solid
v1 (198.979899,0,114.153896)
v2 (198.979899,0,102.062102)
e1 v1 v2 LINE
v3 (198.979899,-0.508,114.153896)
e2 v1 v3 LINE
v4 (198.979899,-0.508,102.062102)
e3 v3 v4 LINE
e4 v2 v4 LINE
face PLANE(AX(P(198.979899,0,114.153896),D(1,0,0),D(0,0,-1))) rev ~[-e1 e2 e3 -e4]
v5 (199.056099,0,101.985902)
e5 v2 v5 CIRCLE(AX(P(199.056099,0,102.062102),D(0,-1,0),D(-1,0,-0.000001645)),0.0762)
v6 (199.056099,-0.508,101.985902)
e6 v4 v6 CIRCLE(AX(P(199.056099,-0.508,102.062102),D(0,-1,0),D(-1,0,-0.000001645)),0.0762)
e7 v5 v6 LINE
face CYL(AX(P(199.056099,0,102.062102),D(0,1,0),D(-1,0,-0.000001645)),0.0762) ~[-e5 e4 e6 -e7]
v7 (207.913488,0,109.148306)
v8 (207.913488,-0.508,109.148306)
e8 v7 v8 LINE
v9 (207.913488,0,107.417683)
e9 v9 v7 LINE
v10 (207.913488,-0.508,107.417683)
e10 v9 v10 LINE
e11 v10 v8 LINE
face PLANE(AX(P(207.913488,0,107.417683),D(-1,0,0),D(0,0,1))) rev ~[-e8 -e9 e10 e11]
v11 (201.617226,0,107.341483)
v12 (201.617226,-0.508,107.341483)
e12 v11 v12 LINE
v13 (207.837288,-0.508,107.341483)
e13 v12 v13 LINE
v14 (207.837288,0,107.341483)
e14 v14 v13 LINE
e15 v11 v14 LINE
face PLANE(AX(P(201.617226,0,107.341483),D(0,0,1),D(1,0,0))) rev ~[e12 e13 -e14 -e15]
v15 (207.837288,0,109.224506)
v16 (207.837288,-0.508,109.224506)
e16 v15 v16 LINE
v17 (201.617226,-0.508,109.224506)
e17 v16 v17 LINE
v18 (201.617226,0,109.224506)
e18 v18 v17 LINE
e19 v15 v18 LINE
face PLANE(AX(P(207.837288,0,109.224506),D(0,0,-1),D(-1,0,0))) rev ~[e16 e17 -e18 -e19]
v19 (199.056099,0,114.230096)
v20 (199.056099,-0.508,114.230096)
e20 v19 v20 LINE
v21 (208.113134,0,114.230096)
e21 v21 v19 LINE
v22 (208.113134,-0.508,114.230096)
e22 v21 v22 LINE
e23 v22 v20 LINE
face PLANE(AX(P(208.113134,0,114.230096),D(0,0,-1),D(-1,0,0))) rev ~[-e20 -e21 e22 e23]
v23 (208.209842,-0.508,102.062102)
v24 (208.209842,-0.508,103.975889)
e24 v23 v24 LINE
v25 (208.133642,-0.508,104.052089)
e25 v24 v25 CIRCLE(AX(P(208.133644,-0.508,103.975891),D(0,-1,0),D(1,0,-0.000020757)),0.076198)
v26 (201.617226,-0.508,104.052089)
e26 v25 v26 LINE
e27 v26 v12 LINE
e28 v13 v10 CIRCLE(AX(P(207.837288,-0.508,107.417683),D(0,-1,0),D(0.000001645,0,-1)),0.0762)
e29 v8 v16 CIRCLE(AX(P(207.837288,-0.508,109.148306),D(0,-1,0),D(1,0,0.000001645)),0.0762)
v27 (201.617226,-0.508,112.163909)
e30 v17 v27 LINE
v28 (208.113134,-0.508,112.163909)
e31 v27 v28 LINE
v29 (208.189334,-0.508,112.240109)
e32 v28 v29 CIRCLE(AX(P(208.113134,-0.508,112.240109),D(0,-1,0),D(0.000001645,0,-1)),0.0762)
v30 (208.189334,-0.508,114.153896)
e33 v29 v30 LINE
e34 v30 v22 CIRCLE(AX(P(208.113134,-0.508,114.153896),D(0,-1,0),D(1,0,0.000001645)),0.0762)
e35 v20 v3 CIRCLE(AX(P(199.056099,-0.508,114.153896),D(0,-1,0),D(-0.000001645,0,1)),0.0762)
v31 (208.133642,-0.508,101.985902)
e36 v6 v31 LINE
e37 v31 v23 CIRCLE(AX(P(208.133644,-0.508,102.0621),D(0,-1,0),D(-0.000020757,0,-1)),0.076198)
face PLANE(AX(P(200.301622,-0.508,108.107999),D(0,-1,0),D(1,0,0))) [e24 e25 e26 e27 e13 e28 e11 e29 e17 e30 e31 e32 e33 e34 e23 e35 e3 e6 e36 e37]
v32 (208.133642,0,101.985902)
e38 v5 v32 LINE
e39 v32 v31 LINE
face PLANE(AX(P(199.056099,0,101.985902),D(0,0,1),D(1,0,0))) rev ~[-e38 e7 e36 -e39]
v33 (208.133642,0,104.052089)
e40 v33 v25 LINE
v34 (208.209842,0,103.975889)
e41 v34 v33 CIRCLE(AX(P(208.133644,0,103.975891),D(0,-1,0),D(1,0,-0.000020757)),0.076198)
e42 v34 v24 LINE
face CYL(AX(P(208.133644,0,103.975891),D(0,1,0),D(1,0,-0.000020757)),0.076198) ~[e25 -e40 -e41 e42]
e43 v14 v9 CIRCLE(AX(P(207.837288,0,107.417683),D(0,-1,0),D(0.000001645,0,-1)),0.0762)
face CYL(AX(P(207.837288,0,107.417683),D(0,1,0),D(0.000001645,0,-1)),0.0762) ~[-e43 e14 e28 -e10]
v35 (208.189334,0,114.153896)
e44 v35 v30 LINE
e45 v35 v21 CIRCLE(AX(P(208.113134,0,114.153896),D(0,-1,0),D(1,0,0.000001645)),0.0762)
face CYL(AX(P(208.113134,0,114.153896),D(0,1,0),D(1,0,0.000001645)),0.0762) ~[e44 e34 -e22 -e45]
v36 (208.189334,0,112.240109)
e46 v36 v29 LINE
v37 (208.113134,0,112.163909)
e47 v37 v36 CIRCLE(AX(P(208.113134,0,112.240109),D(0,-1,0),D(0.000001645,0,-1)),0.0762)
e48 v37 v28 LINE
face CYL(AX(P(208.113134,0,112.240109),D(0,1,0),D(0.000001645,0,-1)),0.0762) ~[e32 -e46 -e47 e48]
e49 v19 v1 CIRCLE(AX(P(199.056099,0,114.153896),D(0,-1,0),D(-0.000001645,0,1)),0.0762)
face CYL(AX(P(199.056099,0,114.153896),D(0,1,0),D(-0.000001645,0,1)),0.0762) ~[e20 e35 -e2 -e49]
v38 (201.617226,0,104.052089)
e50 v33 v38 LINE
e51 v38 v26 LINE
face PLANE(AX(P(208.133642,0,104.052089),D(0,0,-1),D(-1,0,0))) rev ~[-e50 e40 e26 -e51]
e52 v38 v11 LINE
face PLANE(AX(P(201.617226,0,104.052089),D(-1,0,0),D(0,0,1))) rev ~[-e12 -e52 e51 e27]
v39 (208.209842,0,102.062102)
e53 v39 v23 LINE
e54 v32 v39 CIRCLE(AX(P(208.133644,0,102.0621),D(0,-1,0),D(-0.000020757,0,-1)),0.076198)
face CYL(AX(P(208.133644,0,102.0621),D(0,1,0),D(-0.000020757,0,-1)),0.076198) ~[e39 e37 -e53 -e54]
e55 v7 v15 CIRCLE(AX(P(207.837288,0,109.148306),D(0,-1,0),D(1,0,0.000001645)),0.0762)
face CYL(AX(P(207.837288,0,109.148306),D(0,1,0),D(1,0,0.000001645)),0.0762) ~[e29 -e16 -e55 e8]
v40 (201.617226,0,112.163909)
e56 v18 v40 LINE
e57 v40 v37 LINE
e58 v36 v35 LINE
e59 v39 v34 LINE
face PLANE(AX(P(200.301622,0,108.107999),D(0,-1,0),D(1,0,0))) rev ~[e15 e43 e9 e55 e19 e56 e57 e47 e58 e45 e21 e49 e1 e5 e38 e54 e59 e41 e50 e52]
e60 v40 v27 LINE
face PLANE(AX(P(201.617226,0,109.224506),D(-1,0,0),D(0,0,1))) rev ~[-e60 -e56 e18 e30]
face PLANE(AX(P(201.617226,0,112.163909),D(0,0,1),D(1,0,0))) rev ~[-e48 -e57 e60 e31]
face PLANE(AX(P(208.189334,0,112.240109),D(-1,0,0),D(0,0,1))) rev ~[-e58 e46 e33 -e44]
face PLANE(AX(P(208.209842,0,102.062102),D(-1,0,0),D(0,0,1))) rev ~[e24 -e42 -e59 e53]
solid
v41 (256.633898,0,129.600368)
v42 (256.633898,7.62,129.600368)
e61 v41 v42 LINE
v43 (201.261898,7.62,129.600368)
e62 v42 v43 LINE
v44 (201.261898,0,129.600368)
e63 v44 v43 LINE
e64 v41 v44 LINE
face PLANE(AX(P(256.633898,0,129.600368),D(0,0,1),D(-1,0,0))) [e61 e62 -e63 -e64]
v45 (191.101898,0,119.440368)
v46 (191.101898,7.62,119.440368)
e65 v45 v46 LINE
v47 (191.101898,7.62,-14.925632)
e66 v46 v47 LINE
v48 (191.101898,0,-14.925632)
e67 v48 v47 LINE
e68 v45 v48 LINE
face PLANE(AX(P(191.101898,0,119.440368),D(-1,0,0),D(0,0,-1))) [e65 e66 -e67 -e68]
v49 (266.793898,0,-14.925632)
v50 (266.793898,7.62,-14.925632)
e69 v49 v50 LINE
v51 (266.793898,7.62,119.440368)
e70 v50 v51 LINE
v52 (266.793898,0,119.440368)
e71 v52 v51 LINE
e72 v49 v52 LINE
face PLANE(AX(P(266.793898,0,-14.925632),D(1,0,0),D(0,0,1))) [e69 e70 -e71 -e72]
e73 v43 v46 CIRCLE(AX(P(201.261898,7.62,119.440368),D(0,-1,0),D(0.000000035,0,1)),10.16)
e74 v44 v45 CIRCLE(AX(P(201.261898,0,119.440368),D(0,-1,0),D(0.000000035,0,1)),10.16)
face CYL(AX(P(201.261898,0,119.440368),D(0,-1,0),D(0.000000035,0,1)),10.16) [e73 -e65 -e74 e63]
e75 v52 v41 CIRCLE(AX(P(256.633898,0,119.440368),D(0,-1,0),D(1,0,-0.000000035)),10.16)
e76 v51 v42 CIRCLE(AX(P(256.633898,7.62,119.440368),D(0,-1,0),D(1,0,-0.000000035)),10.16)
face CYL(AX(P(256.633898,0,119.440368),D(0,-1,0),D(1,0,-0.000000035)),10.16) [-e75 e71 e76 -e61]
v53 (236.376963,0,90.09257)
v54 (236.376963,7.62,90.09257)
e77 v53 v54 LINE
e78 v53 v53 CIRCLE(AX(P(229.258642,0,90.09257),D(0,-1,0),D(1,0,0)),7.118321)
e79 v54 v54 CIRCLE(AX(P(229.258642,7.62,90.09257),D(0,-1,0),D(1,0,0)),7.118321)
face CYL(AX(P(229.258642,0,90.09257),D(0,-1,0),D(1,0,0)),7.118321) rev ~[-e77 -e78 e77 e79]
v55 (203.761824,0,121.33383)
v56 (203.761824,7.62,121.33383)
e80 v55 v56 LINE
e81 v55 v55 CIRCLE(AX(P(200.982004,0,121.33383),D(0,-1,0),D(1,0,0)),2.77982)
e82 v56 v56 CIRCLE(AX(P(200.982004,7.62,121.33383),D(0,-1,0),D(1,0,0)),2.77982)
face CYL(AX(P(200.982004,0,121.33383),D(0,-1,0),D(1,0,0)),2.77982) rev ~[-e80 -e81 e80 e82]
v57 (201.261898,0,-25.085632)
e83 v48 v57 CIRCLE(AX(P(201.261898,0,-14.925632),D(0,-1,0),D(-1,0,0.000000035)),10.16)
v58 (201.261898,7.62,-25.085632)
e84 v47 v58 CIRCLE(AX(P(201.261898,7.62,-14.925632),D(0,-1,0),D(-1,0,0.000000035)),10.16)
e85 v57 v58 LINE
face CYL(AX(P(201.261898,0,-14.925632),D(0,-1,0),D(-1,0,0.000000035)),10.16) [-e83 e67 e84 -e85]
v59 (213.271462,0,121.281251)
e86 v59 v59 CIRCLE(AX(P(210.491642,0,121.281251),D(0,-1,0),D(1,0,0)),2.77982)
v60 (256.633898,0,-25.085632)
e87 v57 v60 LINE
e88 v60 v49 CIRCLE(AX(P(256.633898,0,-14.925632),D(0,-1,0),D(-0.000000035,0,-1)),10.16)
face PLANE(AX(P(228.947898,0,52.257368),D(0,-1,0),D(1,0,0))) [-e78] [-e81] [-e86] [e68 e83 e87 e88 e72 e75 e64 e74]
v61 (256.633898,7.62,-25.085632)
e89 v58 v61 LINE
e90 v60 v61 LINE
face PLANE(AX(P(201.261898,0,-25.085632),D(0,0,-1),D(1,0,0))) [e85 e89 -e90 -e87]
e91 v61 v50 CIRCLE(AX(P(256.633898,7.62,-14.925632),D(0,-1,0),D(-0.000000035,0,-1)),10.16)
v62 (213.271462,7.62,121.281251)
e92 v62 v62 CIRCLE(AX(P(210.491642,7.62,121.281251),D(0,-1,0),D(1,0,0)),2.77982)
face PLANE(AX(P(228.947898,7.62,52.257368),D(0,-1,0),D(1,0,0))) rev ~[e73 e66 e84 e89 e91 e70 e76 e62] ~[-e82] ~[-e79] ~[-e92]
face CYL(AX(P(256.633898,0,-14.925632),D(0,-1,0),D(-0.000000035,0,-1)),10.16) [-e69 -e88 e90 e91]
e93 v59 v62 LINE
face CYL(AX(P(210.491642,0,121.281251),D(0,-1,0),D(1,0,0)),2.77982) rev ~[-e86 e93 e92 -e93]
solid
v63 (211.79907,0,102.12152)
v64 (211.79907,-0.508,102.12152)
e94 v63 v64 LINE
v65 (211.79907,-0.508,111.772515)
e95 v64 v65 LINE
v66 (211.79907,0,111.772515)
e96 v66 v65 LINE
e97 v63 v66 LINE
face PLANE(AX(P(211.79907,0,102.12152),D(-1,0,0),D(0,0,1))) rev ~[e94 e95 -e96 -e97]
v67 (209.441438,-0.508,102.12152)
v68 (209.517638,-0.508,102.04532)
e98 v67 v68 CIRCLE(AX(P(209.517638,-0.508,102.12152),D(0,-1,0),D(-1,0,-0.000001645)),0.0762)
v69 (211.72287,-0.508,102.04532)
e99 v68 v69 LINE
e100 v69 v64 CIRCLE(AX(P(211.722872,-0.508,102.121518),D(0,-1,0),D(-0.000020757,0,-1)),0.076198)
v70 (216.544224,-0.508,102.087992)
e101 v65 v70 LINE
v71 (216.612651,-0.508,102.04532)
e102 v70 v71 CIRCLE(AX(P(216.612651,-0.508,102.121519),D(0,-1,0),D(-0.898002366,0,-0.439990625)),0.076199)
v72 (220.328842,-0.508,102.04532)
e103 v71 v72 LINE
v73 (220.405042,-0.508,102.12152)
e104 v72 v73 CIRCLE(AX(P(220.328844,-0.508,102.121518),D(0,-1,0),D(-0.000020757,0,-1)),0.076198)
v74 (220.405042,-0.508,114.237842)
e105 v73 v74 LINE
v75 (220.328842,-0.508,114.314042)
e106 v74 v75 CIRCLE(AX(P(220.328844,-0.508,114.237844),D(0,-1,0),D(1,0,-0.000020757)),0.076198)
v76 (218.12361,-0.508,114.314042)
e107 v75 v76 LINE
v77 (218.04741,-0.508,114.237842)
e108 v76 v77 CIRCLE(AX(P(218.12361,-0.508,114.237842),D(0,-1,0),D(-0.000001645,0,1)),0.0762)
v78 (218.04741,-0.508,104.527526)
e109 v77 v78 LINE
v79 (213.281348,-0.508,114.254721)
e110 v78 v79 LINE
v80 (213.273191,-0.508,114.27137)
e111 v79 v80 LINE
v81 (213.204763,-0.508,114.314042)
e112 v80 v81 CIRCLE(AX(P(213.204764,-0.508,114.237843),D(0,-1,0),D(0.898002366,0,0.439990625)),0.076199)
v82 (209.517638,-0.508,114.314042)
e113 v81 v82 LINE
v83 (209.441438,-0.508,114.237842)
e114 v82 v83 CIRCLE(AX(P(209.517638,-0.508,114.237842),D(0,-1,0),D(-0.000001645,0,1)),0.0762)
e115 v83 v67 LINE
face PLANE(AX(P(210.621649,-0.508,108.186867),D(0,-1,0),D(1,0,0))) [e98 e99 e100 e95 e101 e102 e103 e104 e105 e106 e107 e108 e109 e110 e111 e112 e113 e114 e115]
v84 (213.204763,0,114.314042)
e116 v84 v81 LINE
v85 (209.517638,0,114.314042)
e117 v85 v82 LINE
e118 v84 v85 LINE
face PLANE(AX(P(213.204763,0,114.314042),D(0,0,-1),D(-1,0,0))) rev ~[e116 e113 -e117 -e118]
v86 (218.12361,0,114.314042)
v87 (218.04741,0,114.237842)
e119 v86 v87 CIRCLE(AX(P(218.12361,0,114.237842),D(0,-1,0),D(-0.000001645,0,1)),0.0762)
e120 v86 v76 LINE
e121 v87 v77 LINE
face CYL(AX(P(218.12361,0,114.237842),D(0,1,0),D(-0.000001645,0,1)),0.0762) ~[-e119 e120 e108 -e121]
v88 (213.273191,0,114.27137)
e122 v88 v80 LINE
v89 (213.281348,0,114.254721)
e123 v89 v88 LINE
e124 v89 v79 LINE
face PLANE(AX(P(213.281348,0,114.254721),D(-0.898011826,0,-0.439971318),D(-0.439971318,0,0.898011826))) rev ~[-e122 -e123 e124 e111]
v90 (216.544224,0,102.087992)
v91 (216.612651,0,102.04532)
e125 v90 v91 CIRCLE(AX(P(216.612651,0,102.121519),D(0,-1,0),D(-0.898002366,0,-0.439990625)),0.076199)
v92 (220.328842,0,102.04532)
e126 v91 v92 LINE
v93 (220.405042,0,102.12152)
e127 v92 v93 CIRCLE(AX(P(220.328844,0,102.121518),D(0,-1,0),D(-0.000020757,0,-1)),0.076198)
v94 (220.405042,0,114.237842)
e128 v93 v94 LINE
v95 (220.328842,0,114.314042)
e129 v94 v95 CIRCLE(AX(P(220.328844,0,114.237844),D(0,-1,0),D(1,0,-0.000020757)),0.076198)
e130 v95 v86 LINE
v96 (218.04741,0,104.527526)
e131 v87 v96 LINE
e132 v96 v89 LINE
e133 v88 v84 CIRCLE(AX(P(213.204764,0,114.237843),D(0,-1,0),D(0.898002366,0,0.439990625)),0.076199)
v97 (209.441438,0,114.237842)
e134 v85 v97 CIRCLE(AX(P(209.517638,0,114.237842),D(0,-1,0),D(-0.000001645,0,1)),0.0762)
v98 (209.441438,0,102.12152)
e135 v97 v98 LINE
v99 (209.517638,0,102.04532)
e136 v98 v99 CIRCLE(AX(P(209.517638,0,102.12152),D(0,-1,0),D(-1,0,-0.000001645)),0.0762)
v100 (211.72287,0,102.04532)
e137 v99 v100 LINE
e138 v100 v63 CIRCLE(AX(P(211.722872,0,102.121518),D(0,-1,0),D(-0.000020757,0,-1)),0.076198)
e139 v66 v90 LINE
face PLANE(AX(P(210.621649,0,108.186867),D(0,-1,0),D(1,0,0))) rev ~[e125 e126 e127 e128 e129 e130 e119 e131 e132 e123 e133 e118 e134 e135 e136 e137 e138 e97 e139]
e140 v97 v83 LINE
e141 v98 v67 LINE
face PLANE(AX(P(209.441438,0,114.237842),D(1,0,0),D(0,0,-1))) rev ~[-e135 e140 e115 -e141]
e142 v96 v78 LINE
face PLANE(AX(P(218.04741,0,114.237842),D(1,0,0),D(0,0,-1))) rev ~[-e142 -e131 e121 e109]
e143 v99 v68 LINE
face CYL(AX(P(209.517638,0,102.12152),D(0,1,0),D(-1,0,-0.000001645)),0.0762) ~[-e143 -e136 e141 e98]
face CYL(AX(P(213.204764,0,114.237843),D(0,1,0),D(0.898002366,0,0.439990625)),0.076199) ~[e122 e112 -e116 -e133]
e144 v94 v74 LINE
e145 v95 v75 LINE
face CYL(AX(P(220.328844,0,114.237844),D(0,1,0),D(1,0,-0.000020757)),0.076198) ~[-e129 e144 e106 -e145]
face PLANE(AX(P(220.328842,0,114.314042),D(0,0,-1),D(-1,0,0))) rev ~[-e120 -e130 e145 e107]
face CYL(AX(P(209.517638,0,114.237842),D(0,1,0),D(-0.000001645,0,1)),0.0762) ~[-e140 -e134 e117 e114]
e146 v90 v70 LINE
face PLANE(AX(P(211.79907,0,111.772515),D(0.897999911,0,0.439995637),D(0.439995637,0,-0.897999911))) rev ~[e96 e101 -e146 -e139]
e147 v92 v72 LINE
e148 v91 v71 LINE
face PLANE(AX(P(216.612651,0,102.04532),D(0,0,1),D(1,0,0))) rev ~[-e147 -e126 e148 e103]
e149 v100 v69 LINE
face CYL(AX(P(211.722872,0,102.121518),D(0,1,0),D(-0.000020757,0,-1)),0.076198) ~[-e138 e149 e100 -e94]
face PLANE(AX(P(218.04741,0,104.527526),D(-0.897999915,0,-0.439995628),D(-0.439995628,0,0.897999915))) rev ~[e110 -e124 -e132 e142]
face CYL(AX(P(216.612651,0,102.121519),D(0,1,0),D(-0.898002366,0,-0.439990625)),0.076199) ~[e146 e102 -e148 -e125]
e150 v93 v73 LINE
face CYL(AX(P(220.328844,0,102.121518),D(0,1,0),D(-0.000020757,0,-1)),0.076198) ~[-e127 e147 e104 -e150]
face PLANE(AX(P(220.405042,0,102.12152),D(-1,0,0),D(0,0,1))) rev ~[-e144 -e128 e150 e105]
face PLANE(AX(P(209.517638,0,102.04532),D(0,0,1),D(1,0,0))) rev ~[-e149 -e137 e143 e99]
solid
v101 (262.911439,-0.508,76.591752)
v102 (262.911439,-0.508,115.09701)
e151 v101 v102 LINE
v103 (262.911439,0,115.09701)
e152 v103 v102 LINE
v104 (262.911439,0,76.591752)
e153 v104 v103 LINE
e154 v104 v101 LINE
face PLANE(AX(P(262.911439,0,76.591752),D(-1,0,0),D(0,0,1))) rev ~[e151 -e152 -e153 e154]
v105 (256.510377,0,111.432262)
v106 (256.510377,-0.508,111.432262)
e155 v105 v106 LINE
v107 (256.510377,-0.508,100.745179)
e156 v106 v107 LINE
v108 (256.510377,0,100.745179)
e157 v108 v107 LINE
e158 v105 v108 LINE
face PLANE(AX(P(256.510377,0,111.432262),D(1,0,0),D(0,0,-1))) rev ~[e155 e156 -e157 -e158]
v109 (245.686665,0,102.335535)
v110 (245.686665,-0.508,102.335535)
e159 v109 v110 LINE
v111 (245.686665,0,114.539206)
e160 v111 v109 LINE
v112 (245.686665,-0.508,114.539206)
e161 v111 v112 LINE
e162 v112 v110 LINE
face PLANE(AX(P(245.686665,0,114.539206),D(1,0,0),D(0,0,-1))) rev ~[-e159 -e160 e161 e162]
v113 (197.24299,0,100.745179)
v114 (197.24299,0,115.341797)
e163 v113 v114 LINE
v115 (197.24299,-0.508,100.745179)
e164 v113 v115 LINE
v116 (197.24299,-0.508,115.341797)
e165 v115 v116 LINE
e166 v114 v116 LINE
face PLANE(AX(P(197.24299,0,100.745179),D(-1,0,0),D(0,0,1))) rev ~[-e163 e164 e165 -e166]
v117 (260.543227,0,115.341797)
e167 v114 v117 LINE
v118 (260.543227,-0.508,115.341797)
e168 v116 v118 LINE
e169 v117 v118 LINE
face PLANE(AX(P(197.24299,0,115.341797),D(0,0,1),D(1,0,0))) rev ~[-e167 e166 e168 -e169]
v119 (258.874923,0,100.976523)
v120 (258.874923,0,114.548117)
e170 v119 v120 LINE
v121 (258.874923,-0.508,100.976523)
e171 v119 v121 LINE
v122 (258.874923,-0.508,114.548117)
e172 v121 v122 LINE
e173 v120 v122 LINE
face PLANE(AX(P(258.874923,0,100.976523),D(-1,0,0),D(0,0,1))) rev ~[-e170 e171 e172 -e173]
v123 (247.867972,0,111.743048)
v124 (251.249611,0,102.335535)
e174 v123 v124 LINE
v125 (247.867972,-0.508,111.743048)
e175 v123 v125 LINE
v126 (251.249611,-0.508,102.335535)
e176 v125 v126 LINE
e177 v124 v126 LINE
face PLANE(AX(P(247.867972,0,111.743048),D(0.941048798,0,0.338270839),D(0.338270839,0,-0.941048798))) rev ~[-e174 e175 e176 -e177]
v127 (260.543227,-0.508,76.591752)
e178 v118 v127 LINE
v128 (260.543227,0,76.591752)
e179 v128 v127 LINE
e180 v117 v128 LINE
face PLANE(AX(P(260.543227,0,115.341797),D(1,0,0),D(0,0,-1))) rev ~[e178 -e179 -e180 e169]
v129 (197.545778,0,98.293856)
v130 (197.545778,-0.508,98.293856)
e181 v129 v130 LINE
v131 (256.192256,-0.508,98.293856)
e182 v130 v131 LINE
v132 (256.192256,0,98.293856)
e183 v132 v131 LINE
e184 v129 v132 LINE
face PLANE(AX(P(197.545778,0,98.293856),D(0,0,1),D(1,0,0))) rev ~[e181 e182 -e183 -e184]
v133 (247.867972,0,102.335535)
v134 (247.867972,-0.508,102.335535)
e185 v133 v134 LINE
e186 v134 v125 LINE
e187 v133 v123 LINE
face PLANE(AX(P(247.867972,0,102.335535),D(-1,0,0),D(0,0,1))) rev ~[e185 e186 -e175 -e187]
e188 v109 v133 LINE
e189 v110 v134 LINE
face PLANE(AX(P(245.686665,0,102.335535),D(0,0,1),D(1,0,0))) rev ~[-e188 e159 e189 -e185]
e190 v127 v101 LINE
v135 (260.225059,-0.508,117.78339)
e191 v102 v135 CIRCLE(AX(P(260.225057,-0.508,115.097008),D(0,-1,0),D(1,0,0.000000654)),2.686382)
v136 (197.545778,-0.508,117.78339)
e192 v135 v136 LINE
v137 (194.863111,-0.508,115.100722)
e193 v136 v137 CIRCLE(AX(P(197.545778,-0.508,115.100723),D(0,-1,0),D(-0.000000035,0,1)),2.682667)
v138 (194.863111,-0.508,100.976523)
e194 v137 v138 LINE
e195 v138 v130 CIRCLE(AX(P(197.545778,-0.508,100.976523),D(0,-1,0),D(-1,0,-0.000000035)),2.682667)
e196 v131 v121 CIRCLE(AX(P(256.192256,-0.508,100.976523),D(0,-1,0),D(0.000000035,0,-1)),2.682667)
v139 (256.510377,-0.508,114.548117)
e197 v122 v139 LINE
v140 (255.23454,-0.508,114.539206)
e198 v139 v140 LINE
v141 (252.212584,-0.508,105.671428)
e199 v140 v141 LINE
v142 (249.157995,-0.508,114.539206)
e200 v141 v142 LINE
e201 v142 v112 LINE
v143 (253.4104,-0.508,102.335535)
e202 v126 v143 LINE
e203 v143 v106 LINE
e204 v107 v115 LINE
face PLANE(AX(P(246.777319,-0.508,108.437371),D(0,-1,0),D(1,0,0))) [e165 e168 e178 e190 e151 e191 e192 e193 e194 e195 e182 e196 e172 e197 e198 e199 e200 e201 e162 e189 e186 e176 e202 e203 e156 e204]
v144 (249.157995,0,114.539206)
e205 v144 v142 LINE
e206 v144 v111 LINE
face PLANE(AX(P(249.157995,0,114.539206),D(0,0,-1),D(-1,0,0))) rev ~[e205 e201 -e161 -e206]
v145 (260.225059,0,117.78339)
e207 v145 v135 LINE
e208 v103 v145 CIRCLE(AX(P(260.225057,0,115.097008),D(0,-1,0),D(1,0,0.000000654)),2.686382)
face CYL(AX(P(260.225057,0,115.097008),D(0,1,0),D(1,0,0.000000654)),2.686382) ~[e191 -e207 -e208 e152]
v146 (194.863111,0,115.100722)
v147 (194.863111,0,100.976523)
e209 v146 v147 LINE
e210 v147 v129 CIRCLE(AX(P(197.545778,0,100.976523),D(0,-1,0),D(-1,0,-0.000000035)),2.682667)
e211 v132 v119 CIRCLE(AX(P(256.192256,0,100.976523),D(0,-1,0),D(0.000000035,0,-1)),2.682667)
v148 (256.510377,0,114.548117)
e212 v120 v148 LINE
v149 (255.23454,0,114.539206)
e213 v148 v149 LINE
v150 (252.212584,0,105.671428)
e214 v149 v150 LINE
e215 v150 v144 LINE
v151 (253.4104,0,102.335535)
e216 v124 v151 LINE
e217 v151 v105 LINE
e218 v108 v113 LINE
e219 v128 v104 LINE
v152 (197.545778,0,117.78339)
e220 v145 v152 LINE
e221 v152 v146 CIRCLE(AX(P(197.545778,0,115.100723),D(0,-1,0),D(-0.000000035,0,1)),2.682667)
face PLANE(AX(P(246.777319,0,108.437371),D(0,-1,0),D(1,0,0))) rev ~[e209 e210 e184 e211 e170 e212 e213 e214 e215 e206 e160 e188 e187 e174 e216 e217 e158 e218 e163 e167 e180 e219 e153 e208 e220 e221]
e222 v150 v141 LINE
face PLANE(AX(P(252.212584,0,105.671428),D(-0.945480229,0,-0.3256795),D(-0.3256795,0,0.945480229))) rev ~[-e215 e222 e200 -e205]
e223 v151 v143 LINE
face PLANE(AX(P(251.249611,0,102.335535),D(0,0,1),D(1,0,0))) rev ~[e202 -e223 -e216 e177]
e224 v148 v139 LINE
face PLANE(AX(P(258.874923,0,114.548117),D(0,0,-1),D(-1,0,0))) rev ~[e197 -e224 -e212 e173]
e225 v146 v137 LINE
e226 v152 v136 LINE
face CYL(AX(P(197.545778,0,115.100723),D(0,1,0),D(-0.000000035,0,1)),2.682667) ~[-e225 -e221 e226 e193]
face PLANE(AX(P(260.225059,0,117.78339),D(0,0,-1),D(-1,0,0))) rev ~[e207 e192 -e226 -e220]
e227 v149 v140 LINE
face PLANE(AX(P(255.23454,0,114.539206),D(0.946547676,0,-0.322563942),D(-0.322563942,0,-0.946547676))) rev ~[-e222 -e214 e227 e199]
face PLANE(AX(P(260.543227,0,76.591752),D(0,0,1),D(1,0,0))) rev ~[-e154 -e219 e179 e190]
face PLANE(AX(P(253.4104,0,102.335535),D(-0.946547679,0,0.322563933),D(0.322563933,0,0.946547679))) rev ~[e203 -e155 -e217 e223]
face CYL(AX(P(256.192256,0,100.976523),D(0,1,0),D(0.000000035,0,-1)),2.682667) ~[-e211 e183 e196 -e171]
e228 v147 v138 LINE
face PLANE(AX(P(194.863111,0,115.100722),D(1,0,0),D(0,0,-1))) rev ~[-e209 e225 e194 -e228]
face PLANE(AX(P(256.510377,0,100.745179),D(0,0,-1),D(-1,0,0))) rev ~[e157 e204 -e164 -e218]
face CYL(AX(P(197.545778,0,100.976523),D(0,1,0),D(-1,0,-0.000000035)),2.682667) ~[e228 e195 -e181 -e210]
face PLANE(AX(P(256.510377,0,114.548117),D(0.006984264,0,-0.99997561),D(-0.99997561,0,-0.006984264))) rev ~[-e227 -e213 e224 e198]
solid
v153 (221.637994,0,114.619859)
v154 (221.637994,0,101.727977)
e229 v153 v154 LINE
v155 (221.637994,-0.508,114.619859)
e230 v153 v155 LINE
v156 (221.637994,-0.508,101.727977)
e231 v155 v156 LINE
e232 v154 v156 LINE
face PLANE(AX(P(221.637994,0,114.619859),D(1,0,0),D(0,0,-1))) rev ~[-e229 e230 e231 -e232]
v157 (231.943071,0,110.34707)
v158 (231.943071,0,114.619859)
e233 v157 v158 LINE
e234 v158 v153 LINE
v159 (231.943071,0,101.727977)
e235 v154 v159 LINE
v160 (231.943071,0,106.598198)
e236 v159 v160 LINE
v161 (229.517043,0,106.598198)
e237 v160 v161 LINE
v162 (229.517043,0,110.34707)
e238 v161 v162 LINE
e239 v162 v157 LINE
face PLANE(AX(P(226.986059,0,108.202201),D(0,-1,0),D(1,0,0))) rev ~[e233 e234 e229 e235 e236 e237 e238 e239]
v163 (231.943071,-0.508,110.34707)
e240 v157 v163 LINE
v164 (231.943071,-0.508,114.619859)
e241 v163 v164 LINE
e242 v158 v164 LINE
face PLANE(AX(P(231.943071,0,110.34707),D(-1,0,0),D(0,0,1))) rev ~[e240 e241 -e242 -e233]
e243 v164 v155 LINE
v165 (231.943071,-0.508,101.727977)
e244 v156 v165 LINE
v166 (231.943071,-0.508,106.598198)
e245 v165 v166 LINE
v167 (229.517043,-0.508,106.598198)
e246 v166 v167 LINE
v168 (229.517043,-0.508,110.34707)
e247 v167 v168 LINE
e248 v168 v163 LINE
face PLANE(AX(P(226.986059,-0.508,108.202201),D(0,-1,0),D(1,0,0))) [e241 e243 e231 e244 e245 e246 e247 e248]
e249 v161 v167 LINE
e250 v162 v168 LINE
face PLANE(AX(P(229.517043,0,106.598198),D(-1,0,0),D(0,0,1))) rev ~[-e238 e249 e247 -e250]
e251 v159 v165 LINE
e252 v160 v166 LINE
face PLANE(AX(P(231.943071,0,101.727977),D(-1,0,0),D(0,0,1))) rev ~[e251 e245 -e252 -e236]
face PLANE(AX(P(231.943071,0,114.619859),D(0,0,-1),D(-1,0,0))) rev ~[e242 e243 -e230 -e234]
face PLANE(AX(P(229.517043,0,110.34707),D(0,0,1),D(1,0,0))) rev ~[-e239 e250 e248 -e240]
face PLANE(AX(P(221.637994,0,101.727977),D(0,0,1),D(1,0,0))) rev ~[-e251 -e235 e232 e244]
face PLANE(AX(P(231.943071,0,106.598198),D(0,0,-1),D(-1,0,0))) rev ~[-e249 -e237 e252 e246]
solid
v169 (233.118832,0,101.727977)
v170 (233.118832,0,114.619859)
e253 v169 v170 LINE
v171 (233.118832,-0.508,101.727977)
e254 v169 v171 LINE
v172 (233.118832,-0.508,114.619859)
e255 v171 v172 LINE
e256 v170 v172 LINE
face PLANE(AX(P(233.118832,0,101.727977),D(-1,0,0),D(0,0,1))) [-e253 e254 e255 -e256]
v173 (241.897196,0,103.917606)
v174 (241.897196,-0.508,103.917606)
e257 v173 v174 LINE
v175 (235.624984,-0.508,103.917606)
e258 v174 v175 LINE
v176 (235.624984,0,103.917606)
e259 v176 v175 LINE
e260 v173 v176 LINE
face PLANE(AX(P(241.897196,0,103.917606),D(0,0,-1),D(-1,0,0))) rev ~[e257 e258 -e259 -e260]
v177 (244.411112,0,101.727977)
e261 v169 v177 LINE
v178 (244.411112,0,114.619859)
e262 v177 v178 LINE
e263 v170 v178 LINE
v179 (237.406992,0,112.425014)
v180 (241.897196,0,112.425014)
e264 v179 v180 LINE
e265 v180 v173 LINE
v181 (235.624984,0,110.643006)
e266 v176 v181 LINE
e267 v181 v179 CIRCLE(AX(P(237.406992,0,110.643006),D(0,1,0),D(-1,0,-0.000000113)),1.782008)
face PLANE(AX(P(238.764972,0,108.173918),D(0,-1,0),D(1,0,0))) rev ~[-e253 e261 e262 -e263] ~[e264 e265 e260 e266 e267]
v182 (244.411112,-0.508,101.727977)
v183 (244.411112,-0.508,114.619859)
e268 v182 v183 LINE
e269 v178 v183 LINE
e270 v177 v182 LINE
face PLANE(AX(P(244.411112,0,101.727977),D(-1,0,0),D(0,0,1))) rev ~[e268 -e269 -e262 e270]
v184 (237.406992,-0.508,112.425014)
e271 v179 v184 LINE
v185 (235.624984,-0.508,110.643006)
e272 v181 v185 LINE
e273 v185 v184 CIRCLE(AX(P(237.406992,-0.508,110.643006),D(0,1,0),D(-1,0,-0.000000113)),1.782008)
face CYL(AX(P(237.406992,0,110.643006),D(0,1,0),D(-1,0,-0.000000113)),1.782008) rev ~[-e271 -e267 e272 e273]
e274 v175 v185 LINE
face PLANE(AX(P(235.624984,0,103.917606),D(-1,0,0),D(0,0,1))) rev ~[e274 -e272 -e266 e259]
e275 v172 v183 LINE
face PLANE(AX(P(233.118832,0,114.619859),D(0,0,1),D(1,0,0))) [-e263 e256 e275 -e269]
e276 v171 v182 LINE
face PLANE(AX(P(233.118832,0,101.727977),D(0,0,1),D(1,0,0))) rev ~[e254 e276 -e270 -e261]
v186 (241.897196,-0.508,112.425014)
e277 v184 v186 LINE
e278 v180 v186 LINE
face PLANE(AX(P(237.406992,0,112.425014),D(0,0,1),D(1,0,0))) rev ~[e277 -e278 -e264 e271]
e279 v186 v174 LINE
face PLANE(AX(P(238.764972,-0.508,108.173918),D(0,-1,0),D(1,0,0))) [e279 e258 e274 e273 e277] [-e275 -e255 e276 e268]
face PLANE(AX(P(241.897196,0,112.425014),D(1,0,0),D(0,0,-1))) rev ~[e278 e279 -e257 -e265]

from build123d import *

# Parameters (mm, degrees)
F0_R     = 2.77982
F0_R_2   = 7.118321
F0_W     = 68.371698
F0_H     = 20.227566
F2_DEPTH = 7.62
F1_W     = 11.292279
F1_H     = 12.891882
F3_DEPTH = 0.508


with BuildPart() as f2:
    # F0 (on Front) → F2 (new body)
    with BuildSketch(Plane.XZ):
        with BuildLine():
            Line((256.633898, 129.600368), (201.261898, 129.600368))
            ThreePointArc((201.261898, 129.600368), (194.077693, 126.624573), (191.101898, 119.440368))
            Line((191.101898, 119.440368), (191.101898, -14.925632))
            ThreePointArc((191.101898, -14.925632), (194.077693, -22.109837), (201.261898, -25.085632))
            Line((201.261898, -25.085632), (256.633898, -25.085632))
            ThreePointArc((256.633898, -25.085632), (263.818103, -22.109837), (266.793898, -14.925632))
            Line((266.793898, -14.925632), (266.793898, 119.440368))
            ThreePointArc((266.793898, 119.440368), (263.818103, 126.624573), (256.633898, 129.600368))
        make_face()
        with Locations((200.982004, 121.33383)):
            Circle(F0_R, mode=Mode.SUBTRACT)
        with Locations((210.491642, 121.281251)):
            Circle(F0_R, mode=Mode.SUBTRACT)
        with Locations((229.258642, 90.09257)):
            Circle(F0_R_2, mode=Mode.SUBTRACT)
        with Locations((229.013391, 107.724607)):
            Rectangle(F0_W, F0_H, mode=Mode.SUBTRACT)
        with Locations((229.013391, 107.724607)):
            Rectangle(F0_W, F0_H)
    extrude(amount=-F2_DEPTH)


with BuildPart() as f3:
    # F1 (on Front) → F3 (new body)
    with BuildSketch(Plane.XZ):
        with BuildLine():
            Line((201.617226, 114.230096), (199.056099, 114.230096))
            ThreePointArc((199.056099, 114.230096), (199.002218, 114.207778), (198.979899, 114.153896))
            Line((198.979899, 114.153896), (198.979899, 102.062102))
            ThreePointArc((198.979899, 102.062102), (199.002218, 102.00822), (199.056099, 101.985902))
            Line((199.056099, 101.985902), (201.617226, 101.985902))
            Line((201.617226, 101.985902), (201.617226, 104.052089))
            Line((201.617226, 104.052089), (201.617226, 107.341483))
            Line((201.617226, 107.341483), (201.617226, 109.224506))
            Line((201.617226, 109.224506), (201.617226, 112.163909))
            Line((201.617226, 112.163909), (201.617226, 114.230096))
        make_face()
        with BuildLine():
            Line((208.113134, 114.230096), (201.617226, 114.230096))
            Line((201.617226, 114.230096), (201.617226, 112.163909))
            Line((201.617226, 112.163909), (208.113134, 112.163909))
            ThreePointArc((208.113134, 112.163909), (208.167015, 112.186227), (208.189334, 112.240109))
            Line((208.189334, 112.240109), (208.189334, 114.153896))
            ThreePointArc((208.189334, 114.153896), (208.167015, 114.207778), (208.113134, 114.230096))
        make_face()
        with BuildLine():
            Line((207.837288, 109.224506), (201.617226, 109.224506))
            Line((201.617226, 109.224506), (201.617226, 107.341483))
            Line((201.617226, 107.341483), (207.837288, 107.341483))
            ThreePointArc((207.837288, 107.341483), (207.89117, 107.363802), (207.913488, 107.417683))
            Line((207.913488, 107.417683), (207.913488, 109.148306))
            ThreePointArc((207.913488, 109.148306), (207.89117, 109.202187), (207.837288, 109.224506))
        make_face()
        with BuildLine():
            Line((201.617226, 104.052089), (201.617226, 101.985902))
            Line((201.617226, 101.985902), (208.133642, 101.985902))
            ThreePointArc((208.133642, 101.985902), (208.187524, 102.00822), (208.209842, 102.062102))
            Line((208.209842, 102.062102), (208.209842, 103.975889))
            ThreePointArc((208.209842, 103.975889), (208.187524, 104.029771), (208.133642, 104.052089))
            Line((208.133642, 104.052089), (201.617226, 104.052089))
        make_face()
        with BuildLine():
            Line((211.79907, 114.314042), (209.517638, 114.314042))
            ThreePointArc((209.517638, 114.314042), (209.463757, 114.291724), (209.441438, 114.237842))
            Line((209.441438, 114.237842), (209.441438, 102.12152))
            ThreePointArc((209.441438, 102.12152), (209.463757, 102.067638), (209.517638, 102.04532))
            Line((209.517638, 102.04532), (211.72287, 102.04532))
            ThreePointArc((211.72287, 102.04532), (211.776752, 102.067638), (211.79907, 102.12152))
            Line((211.79907, 102.12152), (211.79907, 111.772515))
            Line((211.79907, 111.772515), (211.79907, 114.314042))
        make_face()
        with BuildLine():
            Line((213.204763, 114.314042), (211.79907, 114.314042))
            Line((211.79907, 114.314042), (211.79907, 111.772515))
            Line((211.79907, 111.772515), (216.544224, 102.087992))
            ThreePointArc((216.544224, 102.087992), (216.57233, 102.056862), (216.612651, 102.04532))
            Line((216.612651, 102.04532), (218.04741, 102.04532))
            Line((218.04741, 102.04532), (218.04741, 104.527526))
            Line((218.04741, 104.527526), (213.281348, 114.254721))
            Line((213.281348, 114.254721), (213.273191, 114.27137))
            ThreePointArc((213.273191, 114.27137), (213.245085, 114.3025), (213.204763, 114.314042))
        make_face()
        with BuildLine():
            Line((218.04741, 104.527526), (218.04741, 102.04532))
            Line((218.04741, 102.04532), (220.328842, 102.04532))
            ThreePointArc((220.328842, 102.04532), (220.382724, 102.067638), (220.405042, 102.12152))
            Line((220.405042, 102.12152), (220.405042, 114.237842))
            ThreePointArc((220.405042, 114.237842), (220.382724, 114.291724), (220.328842, 114.314042))
            Line((220.328842, 114.314042), (218.12361, 114.314042))
            ThreePointArc((218.12361, 114.314042), (218.069729, 114.291724), (218.04741, 114.237842))
            Line((218.04741, 114.237842), (218.04741, 104.527526))
        make_face()
        Polygon((231.943071, 114.619859), (221.637994, 114.619859), (221.637994, 101.727977), (231.943071, 101.727977), (231.943071, 106.598198), (229.517043, 106.598198), (229.517043, 110.34707), (231.943071, 110.34707), align=None)
        with Locations((238.764972, 108.173918)):
            Rectangle(F1_W, F1_H)
        with BuildLine():
            ThreePointArc((235.624984, 110.643006), (236.146922, 111.903076), (237.406992, 112.425014))
            Line((237.406992, 112.425014), (241.897196, 112.425014))
            Line((241.897196, 112.425014), (241.897196, 103.917606))
            Line((241.897196, 103.917606), (235.624984, 103.917606))
            Line((235.624984, 103.917606), (235.624984, 110.643006))
        make_face(mode=Mode.SUBTRACT)
        Polygon((247.867972, 102.335535), (247.867972, 111.743048), (247.867972, 114.539206), (245.686665, 114.539206), (245.686665, 102.335535), align=None)
        Polygon((256.510377, 111.432262), (256.510377, 114.548117), (255.23454, 114.539206), (252.212584, 105.671428), (249.157995, 114.539206), (247.867972, 114.539206), (247.867972, 111.743048), (251.249611, 102.335535), (253.4104, 102.335535), align=None)
        with BuildLine():
            Line((258.874923, 117.78339), (197.545778, 117.78339))
            ThreePointArc((197.545778, 117.78339), (195.648846, 116.997655), (194.863111, 115.100722))
            Line((194.863111, 115.100722), (194.863111, 100.976523))
            ThreePointArc((194.863111, 100.976523), (195.648846, 99.079591), (197.545778, 98.293856))
            Line((197.545778, 98.293856), (256.192256, 98.293856))
            ThreePointArc((256.192256, 98.293856), (258.089188, 99.079591), (258.874923, 100.976523))
            Line((258.874923, 100.976523), (258.874923, 114.548117))
            Line((258.874923, 114.548117), (256.510377, 114.548117))
            Line((256.510377, 114.548117), (256.510377, 111.432262))
            Line((256.510377, 111.432262), (256.510377, 100.745179))
            Line((256.510377, 100.745179), (197.24299, 100.745179))
            Line((197.24299, 100.745179), (197.24299, 115.341797))
            Line((197.24299, 115.341797), (256.510377, 115.341797))
            Line((256.510377, 115.341797), (258.874923, 115.341797))
            Line((258.874923, 115.341797), (258.874923, 117.78339))
        make_face()
        with BuildLine():
            Line((260.225059, 117.78339), (258.874923, 117.78339))
            Line((258.874923, 117.78339), (258.874923, 115.341797))
            Line((258.874923, 115.341797), (260.543227, 115.341797))
            Line((260.543227, 115.341797), (260.543227, 114.548117))
            Line((260.543227, 114.548117), (260.543227, 99.643797))
            Line((260.543227, 99.643797), (262.911439, 99.643797))
            Line((262.911439, 99.643797), (262.911439, 115.09701))
            ThreePointArc((262.911439, 115.09701), (262.124616, 116.996567), (260.225059, 117.78339))
        make_face()
        Polygon((262.911439, 76.591752), (262.911439, 99.643797), (260.543227, 99.643797), (260.543227, 98.293856), (260.543227, 76.591752), align=None)
    extrude(amount=F3_DEPTH)


solid = Compound([f2.part, f3.part])
